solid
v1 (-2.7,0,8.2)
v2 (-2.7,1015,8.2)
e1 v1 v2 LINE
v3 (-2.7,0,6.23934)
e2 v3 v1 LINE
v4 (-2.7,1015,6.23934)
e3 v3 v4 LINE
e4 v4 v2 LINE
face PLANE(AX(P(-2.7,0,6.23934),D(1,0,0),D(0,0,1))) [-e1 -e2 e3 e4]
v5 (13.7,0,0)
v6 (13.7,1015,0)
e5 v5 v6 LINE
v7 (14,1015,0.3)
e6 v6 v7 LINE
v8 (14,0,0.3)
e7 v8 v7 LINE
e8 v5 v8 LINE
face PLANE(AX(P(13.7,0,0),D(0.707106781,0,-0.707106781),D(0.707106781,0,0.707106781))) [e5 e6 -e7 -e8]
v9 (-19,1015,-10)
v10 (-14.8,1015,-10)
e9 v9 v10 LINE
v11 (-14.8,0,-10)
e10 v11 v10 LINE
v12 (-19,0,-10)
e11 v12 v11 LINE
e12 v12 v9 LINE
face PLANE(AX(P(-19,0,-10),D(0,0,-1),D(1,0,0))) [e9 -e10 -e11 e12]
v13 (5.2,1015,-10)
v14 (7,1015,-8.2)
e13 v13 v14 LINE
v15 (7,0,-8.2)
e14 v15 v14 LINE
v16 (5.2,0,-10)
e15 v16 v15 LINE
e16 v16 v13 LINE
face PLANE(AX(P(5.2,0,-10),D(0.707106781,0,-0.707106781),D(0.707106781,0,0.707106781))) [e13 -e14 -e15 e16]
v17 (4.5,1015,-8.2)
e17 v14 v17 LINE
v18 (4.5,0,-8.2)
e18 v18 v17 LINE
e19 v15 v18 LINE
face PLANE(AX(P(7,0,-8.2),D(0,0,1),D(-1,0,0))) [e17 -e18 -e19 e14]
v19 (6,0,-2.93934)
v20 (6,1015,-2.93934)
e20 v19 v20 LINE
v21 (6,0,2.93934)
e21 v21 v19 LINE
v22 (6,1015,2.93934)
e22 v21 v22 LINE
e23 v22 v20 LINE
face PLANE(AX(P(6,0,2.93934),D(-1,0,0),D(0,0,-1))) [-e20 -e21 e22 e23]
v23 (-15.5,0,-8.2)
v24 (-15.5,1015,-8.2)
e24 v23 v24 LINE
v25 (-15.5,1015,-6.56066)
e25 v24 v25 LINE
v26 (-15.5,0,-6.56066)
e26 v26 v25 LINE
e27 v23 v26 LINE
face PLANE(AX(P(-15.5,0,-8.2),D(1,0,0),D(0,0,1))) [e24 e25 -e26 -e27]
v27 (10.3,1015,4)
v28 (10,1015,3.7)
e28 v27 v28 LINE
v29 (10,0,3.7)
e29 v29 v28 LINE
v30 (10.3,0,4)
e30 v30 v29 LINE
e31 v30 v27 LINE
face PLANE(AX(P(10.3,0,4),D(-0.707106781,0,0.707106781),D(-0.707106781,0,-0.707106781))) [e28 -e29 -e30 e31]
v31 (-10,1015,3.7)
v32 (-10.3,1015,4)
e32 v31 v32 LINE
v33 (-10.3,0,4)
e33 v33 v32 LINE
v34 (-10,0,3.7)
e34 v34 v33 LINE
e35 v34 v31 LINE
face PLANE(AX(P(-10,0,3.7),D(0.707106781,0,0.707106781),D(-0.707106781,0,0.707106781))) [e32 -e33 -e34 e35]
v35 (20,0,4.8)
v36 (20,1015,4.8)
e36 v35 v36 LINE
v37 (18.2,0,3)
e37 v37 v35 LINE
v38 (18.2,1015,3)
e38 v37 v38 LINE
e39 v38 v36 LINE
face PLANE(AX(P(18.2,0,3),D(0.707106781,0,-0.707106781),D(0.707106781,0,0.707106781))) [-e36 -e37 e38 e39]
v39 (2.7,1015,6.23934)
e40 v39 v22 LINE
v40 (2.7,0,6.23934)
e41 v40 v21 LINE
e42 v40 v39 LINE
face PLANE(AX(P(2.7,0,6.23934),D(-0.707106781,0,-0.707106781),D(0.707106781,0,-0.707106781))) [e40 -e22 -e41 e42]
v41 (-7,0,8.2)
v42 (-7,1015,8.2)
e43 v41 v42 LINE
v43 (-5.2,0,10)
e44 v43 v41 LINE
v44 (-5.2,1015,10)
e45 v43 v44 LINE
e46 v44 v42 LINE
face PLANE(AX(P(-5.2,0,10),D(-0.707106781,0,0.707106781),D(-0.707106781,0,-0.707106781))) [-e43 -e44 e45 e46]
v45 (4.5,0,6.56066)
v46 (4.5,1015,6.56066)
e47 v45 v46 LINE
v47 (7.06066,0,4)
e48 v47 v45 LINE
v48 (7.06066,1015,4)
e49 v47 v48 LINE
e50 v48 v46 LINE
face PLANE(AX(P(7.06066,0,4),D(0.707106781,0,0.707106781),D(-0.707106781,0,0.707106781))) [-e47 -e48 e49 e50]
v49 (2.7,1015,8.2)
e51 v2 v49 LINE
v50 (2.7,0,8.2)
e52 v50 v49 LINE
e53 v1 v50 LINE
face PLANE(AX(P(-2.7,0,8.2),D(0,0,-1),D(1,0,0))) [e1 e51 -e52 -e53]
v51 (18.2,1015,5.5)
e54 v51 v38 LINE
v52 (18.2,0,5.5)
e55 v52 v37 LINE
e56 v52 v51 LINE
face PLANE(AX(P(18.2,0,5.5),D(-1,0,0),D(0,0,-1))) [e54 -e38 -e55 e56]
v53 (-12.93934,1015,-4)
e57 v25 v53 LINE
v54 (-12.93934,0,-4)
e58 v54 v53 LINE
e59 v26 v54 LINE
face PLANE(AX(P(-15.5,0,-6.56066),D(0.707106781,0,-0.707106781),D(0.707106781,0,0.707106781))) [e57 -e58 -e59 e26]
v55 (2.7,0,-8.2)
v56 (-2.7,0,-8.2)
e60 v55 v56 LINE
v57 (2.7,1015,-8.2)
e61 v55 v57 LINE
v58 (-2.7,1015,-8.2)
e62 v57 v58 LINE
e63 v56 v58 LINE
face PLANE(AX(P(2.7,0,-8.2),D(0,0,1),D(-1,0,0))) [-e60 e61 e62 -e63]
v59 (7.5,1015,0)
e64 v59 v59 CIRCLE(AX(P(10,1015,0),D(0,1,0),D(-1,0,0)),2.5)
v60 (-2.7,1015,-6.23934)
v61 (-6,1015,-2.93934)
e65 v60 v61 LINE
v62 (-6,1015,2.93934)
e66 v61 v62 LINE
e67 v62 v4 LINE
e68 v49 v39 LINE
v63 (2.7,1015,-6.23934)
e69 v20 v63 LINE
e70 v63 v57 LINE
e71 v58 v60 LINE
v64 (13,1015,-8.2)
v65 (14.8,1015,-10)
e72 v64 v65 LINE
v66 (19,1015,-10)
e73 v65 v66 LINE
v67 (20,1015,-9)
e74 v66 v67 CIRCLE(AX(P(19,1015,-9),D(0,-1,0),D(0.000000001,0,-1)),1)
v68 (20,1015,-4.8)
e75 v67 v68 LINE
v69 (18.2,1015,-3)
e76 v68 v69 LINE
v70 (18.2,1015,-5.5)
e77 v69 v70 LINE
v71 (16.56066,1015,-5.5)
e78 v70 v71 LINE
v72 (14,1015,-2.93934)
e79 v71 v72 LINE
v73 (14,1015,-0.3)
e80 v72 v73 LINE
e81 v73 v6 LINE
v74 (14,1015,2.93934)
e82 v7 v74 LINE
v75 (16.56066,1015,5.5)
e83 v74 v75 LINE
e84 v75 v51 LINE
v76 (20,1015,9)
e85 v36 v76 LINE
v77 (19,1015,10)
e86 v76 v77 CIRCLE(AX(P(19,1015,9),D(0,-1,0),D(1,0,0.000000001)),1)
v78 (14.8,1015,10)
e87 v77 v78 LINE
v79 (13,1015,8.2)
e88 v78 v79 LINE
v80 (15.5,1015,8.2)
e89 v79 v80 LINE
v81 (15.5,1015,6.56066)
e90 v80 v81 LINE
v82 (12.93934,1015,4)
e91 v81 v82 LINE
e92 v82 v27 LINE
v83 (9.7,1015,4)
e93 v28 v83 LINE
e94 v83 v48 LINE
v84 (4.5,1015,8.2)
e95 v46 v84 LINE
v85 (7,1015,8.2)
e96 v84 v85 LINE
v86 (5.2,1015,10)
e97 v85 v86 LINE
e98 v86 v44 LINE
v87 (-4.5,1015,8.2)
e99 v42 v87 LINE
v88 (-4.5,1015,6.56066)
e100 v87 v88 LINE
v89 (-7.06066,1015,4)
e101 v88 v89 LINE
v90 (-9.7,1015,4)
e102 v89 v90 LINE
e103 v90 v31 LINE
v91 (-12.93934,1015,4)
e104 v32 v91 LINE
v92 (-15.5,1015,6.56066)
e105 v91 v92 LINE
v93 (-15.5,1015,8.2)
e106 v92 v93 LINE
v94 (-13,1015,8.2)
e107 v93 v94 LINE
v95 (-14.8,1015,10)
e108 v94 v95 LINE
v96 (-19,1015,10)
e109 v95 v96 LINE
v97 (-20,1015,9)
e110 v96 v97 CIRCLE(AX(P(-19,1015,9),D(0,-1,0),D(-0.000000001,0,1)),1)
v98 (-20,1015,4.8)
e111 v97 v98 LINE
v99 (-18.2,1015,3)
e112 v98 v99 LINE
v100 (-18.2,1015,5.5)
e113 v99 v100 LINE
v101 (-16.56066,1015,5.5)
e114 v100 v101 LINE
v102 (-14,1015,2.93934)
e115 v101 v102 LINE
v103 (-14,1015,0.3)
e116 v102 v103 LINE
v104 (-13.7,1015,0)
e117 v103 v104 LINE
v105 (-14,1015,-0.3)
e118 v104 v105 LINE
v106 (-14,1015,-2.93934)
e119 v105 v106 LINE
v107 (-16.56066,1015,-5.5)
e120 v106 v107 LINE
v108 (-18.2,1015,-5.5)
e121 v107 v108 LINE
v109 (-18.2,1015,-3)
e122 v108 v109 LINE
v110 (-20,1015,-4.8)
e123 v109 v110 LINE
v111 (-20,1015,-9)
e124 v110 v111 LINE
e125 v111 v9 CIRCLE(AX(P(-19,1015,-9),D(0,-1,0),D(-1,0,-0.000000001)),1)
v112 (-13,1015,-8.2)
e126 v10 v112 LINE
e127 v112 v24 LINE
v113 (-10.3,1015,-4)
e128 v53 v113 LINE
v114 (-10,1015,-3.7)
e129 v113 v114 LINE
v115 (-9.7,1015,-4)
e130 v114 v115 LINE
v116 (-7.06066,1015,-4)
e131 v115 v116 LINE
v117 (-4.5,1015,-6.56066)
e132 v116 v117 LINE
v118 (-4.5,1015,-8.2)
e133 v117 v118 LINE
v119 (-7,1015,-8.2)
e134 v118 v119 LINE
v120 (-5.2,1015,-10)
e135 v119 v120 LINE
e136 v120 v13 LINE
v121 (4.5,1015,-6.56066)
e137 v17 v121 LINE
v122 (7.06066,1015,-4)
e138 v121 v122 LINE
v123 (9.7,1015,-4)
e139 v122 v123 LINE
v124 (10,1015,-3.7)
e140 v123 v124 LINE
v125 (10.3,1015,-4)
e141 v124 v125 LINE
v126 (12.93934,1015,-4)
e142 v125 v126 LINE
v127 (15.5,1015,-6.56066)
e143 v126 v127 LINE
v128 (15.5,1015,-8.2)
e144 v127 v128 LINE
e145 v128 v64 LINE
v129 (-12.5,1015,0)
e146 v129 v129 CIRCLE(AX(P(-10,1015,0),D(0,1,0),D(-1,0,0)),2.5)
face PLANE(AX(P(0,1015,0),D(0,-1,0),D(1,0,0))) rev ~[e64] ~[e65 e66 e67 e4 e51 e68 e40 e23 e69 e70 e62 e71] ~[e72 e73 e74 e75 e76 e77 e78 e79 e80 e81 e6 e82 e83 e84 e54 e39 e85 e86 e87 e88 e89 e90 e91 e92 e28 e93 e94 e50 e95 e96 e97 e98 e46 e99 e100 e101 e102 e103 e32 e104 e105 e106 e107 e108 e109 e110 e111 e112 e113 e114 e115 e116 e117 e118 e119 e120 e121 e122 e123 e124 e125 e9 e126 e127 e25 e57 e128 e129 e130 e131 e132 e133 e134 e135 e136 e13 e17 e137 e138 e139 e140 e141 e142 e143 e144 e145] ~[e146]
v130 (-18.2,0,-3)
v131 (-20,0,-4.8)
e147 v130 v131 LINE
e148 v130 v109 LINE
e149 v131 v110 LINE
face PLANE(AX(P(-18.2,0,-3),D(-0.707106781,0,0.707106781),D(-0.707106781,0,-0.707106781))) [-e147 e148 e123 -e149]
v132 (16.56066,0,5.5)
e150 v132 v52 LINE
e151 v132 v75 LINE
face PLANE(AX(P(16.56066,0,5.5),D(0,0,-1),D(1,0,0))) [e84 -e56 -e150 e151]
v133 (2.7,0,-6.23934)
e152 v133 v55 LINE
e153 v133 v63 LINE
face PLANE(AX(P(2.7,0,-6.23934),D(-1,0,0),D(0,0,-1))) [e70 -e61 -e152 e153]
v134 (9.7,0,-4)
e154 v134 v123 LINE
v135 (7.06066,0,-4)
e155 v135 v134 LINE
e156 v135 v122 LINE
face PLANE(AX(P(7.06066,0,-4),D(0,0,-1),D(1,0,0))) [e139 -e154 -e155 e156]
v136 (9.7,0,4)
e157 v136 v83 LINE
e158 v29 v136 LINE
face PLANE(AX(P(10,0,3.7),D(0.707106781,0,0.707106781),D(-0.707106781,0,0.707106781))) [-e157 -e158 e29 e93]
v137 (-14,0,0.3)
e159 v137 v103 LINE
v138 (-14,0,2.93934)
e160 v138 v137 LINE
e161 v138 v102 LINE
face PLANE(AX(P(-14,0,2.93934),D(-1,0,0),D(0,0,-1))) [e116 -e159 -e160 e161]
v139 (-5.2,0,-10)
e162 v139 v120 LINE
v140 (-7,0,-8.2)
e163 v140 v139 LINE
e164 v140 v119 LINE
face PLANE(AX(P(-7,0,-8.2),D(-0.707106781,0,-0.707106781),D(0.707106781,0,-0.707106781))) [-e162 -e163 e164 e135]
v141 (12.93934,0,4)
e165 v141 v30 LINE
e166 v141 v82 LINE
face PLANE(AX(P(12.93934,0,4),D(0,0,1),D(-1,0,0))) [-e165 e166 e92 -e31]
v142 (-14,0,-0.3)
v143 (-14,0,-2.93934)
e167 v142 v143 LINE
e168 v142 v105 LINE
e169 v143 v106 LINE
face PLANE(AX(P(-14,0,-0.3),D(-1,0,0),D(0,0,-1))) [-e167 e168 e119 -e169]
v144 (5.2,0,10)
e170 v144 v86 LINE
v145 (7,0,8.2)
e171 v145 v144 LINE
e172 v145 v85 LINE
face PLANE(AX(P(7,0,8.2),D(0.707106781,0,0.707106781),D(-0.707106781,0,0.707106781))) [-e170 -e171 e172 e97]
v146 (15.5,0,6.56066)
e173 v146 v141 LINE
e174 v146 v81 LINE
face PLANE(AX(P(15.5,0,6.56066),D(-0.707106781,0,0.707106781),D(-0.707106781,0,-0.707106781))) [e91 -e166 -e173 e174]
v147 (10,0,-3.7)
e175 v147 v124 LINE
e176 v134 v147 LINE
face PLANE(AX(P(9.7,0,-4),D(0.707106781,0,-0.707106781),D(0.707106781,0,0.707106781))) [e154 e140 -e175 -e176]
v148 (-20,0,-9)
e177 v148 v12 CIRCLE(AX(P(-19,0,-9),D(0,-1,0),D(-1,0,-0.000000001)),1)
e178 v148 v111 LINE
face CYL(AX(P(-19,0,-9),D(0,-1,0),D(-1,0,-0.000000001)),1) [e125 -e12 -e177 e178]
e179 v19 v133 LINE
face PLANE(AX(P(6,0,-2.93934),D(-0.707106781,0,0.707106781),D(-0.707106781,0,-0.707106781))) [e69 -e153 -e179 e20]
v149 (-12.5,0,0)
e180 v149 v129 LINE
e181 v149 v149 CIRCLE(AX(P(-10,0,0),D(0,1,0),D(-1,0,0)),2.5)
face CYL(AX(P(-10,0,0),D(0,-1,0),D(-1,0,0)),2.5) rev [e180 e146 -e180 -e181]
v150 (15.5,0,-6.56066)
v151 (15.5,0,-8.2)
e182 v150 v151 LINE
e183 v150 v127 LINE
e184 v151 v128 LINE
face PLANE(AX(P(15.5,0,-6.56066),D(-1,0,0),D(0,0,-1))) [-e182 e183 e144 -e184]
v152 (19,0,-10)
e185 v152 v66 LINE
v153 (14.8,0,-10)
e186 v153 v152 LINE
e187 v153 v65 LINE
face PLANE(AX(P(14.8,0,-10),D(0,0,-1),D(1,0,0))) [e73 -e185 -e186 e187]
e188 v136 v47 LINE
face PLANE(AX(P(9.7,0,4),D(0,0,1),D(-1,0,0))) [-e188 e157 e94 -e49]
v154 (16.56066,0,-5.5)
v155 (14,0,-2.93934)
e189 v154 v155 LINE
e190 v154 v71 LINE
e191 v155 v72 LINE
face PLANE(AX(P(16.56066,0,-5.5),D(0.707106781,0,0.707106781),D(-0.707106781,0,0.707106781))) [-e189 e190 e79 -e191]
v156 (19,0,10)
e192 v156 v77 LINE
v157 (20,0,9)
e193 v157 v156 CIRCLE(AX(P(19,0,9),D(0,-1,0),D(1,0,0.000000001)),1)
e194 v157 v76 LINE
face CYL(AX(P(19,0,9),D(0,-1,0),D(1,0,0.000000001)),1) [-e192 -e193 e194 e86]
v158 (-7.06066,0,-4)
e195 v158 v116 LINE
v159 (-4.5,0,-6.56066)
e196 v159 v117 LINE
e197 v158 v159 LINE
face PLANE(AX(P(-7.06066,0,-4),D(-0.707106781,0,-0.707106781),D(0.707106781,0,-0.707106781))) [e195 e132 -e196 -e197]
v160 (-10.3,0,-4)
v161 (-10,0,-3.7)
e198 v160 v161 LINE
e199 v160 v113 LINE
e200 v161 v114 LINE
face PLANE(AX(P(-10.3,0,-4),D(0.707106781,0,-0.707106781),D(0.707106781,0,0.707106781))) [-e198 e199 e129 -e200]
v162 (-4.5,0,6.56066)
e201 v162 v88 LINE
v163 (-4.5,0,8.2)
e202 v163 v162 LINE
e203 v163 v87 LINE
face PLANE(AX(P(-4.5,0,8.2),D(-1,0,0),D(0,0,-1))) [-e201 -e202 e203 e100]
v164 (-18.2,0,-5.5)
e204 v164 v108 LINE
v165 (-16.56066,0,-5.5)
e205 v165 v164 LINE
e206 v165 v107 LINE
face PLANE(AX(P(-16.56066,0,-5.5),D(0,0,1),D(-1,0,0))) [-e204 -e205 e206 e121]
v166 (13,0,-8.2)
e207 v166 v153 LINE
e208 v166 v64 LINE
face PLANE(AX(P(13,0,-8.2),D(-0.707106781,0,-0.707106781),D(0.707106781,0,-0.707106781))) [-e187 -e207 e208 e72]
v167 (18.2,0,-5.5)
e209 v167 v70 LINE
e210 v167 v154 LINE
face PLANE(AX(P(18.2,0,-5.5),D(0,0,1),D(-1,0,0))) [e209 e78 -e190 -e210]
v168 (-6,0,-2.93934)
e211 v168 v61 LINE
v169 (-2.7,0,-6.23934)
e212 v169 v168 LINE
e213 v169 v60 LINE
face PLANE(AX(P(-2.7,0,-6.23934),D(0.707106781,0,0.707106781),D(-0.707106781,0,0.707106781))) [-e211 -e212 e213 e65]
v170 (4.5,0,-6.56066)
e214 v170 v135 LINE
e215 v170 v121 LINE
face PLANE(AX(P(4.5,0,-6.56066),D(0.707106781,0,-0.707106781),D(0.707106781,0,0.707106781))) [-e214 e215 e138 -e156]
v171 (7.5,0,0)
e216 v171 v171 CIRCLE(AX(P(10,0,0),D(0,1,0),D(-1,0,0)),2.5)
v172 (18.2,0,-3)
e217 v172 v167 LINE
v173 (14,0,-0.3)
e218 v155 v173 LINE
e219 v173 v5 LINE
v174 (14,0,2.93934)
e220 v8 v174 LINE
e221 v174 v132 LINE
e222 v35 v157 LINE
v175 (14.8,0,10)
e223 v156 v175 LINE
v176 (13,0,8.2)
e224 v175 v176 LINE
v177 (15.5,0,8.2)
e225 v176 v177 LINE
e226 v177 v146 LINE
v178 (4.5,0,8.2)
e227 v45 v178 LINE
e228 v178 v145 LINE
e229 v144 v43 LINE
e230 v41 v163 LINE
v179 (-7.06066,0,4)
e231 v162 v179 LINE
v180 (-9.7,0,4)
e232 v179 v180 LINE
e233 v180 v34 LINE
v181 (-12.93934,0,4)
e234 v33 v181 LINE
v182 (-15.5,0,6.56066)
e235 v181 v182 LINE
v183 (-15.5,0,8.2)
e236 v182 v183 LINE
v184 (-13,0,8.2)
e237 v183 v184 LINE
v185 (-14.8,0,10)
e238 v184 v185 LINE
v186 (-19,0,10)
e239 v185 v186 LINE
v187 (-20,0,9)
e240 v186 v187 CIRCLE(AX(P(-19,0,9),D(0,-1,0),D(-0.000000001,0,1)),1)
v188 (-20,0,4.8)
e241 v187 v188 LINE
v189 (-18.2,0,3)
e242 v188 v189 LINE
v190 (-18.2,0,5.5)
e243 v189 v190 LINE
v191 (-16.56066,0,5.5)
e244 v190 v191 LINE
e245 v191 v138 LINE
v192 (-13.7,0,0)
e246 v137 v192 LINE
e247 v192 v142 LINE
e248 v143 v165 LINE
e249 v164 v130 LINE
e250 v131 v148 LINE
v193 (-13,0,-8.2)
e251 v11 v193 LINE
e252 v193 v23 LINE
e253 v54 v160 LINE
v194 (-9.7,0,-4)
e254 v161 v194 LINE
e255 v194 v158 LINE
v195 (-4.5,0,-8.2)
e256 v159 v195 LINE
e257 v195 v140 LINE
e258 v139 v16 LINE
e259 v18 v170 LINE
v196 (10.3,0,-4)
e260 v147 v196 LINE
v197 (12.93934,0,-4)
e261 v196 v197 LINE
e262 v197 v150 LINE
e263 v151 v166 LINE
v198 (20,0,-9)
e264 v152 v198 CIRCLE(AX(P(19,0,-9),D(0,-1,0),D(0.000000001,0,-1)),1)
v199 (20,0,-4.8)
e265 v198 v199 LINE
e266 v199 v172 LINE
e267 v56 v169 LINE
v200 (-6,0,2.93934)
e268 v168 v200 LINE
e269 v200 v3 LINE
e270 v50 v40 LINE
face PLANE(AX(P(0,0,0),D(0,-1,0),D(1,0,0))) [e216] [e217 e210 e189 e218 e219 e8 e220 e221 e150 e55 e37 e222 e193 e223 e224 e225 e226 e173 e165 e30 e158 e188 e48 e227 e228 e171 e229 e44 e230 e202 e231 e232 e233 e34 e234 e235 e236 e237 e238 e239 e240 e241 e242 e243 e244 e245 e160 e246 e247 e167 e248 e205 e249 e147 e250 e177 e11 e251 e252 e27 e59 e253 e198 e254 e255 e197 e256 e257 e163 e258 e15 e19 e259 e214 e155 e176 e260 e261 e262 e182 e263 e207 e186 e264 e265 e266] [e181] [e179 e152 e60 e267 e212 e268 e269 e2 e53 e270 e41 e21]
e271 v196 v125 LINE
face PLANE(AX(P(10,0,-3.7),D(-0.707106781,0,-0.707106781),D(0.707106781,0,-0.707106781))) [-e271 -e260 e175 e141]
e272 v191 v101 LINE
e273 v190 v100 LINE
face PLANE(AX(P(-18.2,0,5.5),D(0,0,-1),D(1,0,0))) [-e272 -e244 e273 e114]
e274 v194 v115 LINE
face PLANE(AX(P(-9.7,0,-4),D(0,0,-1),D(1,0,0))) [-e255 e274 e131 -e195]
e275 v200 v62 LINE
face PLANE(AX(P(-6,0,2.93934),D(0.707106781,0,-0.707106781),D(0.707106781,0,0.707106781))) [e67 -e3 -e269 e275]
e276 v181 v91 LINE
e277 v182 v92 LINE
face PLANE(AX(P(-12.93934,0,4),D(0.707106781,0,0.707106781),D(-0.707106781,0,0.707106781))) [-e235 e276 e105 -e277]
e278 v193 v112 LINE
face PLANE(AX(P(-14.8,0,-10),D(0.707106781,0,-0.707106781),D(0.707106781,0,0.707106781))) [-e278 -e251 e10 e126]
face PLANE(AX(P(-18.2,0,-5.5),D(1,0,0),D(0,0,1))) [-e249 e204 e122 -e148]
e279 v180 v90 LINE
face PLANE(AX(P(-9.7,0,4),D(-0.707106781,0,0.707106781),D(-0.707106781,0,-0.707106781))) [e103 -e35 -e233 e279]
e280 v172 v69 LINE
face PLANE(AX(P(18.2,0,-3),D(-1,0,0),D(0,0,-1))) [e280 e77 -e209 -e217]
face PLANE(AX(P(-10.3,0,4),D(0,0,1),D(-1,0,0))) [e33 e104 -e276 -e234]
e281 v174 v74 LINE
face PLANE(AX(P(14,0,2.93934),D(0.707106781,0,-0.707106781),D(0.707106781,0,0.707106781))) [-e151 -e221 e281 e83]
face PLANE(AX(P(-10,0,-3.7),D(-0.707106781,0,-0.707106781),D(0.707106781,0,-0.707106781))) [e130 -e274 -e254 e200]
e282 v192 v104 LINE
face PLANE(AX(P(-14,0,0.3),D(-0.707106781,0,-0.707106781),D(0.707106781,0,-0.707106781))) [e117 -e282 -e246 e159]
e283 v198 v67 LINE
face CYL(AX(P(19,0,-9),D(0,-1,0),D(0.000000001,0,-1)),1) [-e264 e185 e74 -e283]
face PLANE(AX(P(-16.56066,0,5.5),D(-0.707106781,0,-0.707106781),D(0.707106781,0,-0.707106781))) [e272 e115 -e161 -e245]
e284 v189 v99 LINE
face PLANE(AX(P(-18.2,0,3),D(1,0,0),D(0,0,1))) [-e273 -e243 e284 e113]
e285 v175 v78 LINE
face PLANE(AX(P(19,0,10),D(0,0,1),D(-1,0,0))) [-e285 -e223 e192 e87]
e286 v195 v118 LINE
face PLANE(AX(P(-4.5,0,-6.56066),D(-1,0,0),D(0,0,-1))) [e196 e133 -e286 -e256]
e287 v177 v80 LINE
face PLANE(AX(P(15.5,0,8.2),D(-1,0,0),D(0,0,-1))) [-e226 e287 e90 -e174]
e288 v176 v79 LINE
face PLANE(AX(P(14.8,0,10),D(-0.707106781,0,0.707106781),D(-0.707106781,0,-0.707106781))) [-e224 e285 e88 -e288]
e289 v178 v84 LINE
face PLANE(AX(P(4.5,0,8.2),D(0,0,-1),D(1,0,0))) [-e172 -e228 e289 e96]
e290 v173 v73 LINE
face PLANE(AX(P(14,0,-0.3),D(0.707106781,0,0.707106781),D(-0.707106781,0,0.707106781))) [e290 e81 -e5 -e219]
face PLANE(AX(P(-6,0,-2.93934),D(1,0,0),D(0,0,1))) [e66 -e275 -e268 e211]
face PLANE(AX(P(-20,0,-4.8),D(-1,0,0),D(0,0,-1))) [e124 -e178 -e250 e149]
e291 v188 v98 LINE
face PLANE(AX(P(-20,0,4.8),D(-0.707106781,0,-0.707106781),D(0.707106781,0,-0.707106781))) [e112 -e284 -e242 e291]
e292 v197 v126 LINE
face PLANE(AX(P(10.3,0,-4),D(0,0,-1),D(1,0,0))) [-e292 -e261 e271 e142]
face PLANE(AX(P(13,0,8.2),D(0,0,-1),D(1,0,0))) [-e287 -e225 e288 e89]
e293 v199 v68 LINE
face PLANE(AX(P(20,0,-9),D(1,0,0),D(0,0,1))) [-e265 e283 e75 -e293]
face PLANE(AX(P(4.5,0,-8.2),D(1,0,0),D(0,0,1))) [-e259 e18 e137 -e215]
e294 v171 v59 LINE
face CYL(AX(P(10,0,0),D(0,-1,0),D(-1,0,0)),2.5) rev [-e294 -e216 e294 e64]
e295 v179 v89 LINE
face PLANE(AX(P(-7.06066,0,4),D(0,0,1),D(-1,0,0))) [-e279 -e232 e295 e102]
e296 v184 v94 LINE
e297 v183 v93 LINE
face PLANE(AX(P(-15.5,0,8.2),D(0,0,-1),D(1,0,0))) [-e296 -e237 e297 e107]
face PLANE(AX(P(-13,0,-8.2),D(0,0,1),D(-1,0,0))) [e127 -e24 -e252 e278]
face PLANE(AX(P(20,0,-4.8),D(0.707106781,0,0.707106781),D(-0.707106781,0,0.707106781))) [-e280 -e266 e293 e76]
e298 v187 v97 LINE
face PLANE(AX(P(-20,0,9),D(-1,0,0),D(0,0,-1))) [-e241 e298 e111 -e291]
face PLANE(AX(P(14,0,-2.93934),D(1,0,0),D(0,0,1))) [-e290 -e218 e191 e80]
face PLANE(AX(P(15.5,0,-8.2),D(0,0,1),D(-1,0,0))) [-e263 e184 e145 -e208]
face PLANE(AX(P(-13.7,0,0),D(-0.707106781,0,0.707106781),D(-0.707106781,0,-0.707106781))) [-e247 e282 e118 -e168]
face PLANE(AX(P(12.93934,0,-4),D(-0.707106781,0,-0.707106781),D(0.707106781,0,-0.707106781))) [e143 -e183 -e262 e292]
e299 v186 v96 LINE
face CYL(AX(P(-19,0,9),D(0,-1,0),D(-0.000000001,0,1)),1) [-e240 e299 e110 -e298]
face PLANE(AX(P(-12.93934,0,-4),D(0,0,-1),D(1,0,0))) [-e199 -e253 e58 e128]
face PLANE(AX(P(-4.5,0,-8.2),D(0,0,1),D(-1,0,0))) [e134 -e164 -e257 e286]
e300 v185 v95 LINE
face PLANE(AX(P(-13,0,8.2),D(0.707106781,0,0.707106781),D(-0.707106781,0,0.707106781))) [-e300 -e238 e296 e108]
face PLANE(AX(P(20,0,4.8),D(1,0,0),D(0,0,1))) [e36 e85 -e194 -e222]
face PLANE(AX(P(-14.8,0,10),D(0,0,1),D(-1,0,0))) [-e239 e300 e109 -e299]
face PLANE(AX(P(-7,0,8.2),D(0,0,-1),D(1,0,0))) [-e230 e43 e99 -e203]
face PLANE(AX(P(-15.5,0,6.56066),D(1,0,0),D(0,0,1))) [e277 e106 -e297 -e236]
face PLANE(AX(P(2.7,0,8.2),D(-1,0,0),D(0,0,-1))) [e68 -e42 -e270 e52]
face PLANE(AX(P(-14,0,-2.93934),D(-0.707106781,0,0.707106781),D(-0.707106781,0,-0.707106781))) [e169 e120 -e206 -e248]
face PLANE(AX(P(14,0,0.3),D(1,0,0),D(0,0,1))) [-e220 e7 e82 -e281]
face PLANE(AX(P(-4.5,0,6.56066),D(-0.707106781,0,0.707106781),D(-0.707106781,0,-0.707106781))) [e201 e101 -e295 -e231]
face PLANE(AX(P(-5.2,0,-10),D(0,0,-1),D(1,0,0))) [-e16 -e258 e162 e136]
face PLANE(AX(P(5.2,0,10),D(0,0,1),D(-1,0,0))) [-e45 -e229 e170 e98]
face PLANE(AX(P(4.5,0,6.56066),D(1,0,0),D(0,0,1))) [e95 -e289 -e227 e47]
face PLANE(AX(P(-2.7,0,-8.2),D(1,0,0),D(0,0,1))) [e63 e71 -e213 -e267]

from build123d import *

# Parameters (mm, degrees)
SKETCH13_R                                  = 2.5
RETANGULAR_PF20_12_PERFIL_2040_V_SLOT_DEPTH = 1015


with BuildPart() as part:
    # Sketch13 → Retangular PF20-12 - PERFIL 2040 V-SLOT(1) (new body)
    with BuildSketch(Plane(origin=(0, 0, 0), x_dir=(-1, 0, 0), z_dir=(0, 1, 0))):
        with BuildLine():
            Line((-14.8, 10), (-13, 8.2))
            Line((-13, 8.2), (-15.5, 8.2))
            Line((-15.5, 8.2), (-15.5, 6.560660172))
            Line((-15.5, 6.560660172), (-12.939339828, 4))
            Line((-12.939339828, 4), (-10.3, 4))
            Line((-10.3, 4), (-10, 3.7))
            Line((-10, 3.7), (-9.7, 4))
            Line((-9.7, 4), (-7.060660172, 4))
            Line((-7.060660172, 4), (-4.5, 6.560660172))
            Line((-4.5, 6.560660172), (-4.5, 8.2))
            Line((-4.5, 8.2), (-7, 8.2))
            Line((-7, 8.2), (-5.2, 10))
            Line((-5.2, 10), (5.2, 10))
            Line((5.2, 10), (7, 8.2))
            Line((7, 8.2), (4.5, 8.2))
            Line((4.5, 8.2), (4.5, 6.560660172))
            Line((4.5, 6.560660172), (7.060660172, 4))
            Line((7.060660172, 4), (9.7, 4))
            Line((9.7, 4), (10, 3.7))
            Line((10, 3.7), (10.3, 4))
            Line((10.3, 4), (12.939339828, 4))
            Line((12.939339828, 4), (15.5, 6.560660172))
            Line((15.5, 6.560660172), (15.5, 8.2))
            Line((15.5, 8.2), (13, 8.2))
            Line((13, 8.2), (14.8, 10))
            Line((14.8, 10), (19, 10))
            ThreePointArc((19, 10), (19.707106781, 9.707106781), (20, 9))
            Line((20, 9), (20, 4.8))
            Line((20, 4.8), (18.2, 3))
            Line((18.2, 3), (18.2, 5.5))
            Line((18.2, 5.5), (16.560660172, 5.5))
            Line((16.560660172, 5.5), (14, 2.939339828))
            Line((14, 2.939339828), (14, 0.3))
            Line((14, 0.3), (13.7, 0))
            Line((13.7, 0), (14, -0.3))
            Line((14, -0.3), (14, -2.939339828))
            Line((14, -2.939339828), (16.560660172, -5.5))
            Line((16.560660172, -5.5), (18.2, -5.5))
            Line((18.2, -5.5), (18.2, -3))
            Line((18.2, -3), (20, -4.8))
            Line((20, -4.8), (20, -9))
            ThreePointArc((20, -9), (19.707106781, -9.707106781), (19, -10))
            Line((19, -10), (14.8, -10))
            Line((14.8, -10), (13, -8.2))
            Line((13, -8.2), (15.5, -8.2))
            Line((15.5, -8.2), (15.5, -6.560660172))
            Line((15.5, -6.560660172), (12.939339828, -4))
            Line((12.939339828, -4), (10.3, -4))
            Line((10.3, -4), (10, -3.7))
            Line((10, -3.7), (9.7, -4))
            Line((9.7, -4), (7.060660172, -4))
            Line((7.060660172, -4), (4.5, -6.560660172))
            Line((4.5, -6.560660172), (4.5, -8.2))
            Line((4.5, -8.2), (7, -8.2))
            Line((7, -8.2), (5.2, -10))
            Line((5.2, -10), (-5.2, -10))
            Line((-5.2, -10), (-7, -8.2))
            Line((-7, -8.2), (-4.5, -8.2))
            Line((-4.5, -8.2), (-4.5, -6.560660172))
            Line((-4.5, -6.560660172), (-7.060660172, -4))
            Line((-7.060660172, -4), (-9.7, -4))
            Line((-9.7, -4), (-10, -3.7))
            Line((-10, -3.7), (-10.3, -4))
            Line((-10.3, -4), (-12.939339828, -4))
            Line((-12.939339828, -4), (-15.5, -6.560660172))
            Line((-15.5, -6.560660172), (-15.5, -8.2))
            Line((-15.5, -8.2), (-13, -8.2))
            Line((-13, -8.2), (-14.8, -10))
            Line((-14.8, -10), (-19, -10))
            ThreePointArc((-19, -10), (-19.707106781, -9.707106781), (-20, -9))
            Line((-20, -9), (-20, -4.8))
            Line((-20, -4.8), (-18.2, -3))
            Line((-18.2, -3), (-18.2, -5.5))
            Line((-18.2, -5.5), (-16.560660172, -5.5))
            Line((-16.560660172, -5.5), (-14, -2.939339828))
            Line((-14, -2.939339828), (-14, -0.3))
            Line((-14, -0.3), (-13.7, 0))
            Line((-13.7, 0), (-14, 0.3))
            Line((-14, 0.3), (-14, 2.939339828))
            Line((-14, 2.939339828), (-16.560660172, 5.5))
            Line((-16.560660172, 5.5), (-18.2, 5.5))
            Line((-18.2, 5.5), (-18.2, 3))
            Line((-18.2, 3), (-20, 4.8))
            Line((-20, 4.8), (-20, 9))
            ThreePointArc((-20, 9), (-19.707106781, 9.707106781), (-19, 10))
            Line((-19, 10), (-14.8, 10))
        make_face()
        with Locations((-10, 0)):
            Circle(SKETCH13_R, mode=Mode.SUBTRACT)
        with Locations((10, 0)):
            Circle(SKETCH13_R, mode=Mode.SUBTRACT)
        Polygon((-2.7, 8.2), (-2.7, 6.239339828), (-6, 2.939339828), (-6, -2.939339828), (-2.7, -6.239339828), (-2.7, -8.2), (2.7, -8.2), (2.7, -6.239339828), (6, -2.939339828), (6, 2.939339828), (2.7, 6.239339828), (2.7, 8.2), align=None, mode=Mode.SUBTRACT)
    extrude(amount=RETANGULAR_PF20_12_PERFIL_2040_V_SLOT_DEPTH)


solid = part.part
